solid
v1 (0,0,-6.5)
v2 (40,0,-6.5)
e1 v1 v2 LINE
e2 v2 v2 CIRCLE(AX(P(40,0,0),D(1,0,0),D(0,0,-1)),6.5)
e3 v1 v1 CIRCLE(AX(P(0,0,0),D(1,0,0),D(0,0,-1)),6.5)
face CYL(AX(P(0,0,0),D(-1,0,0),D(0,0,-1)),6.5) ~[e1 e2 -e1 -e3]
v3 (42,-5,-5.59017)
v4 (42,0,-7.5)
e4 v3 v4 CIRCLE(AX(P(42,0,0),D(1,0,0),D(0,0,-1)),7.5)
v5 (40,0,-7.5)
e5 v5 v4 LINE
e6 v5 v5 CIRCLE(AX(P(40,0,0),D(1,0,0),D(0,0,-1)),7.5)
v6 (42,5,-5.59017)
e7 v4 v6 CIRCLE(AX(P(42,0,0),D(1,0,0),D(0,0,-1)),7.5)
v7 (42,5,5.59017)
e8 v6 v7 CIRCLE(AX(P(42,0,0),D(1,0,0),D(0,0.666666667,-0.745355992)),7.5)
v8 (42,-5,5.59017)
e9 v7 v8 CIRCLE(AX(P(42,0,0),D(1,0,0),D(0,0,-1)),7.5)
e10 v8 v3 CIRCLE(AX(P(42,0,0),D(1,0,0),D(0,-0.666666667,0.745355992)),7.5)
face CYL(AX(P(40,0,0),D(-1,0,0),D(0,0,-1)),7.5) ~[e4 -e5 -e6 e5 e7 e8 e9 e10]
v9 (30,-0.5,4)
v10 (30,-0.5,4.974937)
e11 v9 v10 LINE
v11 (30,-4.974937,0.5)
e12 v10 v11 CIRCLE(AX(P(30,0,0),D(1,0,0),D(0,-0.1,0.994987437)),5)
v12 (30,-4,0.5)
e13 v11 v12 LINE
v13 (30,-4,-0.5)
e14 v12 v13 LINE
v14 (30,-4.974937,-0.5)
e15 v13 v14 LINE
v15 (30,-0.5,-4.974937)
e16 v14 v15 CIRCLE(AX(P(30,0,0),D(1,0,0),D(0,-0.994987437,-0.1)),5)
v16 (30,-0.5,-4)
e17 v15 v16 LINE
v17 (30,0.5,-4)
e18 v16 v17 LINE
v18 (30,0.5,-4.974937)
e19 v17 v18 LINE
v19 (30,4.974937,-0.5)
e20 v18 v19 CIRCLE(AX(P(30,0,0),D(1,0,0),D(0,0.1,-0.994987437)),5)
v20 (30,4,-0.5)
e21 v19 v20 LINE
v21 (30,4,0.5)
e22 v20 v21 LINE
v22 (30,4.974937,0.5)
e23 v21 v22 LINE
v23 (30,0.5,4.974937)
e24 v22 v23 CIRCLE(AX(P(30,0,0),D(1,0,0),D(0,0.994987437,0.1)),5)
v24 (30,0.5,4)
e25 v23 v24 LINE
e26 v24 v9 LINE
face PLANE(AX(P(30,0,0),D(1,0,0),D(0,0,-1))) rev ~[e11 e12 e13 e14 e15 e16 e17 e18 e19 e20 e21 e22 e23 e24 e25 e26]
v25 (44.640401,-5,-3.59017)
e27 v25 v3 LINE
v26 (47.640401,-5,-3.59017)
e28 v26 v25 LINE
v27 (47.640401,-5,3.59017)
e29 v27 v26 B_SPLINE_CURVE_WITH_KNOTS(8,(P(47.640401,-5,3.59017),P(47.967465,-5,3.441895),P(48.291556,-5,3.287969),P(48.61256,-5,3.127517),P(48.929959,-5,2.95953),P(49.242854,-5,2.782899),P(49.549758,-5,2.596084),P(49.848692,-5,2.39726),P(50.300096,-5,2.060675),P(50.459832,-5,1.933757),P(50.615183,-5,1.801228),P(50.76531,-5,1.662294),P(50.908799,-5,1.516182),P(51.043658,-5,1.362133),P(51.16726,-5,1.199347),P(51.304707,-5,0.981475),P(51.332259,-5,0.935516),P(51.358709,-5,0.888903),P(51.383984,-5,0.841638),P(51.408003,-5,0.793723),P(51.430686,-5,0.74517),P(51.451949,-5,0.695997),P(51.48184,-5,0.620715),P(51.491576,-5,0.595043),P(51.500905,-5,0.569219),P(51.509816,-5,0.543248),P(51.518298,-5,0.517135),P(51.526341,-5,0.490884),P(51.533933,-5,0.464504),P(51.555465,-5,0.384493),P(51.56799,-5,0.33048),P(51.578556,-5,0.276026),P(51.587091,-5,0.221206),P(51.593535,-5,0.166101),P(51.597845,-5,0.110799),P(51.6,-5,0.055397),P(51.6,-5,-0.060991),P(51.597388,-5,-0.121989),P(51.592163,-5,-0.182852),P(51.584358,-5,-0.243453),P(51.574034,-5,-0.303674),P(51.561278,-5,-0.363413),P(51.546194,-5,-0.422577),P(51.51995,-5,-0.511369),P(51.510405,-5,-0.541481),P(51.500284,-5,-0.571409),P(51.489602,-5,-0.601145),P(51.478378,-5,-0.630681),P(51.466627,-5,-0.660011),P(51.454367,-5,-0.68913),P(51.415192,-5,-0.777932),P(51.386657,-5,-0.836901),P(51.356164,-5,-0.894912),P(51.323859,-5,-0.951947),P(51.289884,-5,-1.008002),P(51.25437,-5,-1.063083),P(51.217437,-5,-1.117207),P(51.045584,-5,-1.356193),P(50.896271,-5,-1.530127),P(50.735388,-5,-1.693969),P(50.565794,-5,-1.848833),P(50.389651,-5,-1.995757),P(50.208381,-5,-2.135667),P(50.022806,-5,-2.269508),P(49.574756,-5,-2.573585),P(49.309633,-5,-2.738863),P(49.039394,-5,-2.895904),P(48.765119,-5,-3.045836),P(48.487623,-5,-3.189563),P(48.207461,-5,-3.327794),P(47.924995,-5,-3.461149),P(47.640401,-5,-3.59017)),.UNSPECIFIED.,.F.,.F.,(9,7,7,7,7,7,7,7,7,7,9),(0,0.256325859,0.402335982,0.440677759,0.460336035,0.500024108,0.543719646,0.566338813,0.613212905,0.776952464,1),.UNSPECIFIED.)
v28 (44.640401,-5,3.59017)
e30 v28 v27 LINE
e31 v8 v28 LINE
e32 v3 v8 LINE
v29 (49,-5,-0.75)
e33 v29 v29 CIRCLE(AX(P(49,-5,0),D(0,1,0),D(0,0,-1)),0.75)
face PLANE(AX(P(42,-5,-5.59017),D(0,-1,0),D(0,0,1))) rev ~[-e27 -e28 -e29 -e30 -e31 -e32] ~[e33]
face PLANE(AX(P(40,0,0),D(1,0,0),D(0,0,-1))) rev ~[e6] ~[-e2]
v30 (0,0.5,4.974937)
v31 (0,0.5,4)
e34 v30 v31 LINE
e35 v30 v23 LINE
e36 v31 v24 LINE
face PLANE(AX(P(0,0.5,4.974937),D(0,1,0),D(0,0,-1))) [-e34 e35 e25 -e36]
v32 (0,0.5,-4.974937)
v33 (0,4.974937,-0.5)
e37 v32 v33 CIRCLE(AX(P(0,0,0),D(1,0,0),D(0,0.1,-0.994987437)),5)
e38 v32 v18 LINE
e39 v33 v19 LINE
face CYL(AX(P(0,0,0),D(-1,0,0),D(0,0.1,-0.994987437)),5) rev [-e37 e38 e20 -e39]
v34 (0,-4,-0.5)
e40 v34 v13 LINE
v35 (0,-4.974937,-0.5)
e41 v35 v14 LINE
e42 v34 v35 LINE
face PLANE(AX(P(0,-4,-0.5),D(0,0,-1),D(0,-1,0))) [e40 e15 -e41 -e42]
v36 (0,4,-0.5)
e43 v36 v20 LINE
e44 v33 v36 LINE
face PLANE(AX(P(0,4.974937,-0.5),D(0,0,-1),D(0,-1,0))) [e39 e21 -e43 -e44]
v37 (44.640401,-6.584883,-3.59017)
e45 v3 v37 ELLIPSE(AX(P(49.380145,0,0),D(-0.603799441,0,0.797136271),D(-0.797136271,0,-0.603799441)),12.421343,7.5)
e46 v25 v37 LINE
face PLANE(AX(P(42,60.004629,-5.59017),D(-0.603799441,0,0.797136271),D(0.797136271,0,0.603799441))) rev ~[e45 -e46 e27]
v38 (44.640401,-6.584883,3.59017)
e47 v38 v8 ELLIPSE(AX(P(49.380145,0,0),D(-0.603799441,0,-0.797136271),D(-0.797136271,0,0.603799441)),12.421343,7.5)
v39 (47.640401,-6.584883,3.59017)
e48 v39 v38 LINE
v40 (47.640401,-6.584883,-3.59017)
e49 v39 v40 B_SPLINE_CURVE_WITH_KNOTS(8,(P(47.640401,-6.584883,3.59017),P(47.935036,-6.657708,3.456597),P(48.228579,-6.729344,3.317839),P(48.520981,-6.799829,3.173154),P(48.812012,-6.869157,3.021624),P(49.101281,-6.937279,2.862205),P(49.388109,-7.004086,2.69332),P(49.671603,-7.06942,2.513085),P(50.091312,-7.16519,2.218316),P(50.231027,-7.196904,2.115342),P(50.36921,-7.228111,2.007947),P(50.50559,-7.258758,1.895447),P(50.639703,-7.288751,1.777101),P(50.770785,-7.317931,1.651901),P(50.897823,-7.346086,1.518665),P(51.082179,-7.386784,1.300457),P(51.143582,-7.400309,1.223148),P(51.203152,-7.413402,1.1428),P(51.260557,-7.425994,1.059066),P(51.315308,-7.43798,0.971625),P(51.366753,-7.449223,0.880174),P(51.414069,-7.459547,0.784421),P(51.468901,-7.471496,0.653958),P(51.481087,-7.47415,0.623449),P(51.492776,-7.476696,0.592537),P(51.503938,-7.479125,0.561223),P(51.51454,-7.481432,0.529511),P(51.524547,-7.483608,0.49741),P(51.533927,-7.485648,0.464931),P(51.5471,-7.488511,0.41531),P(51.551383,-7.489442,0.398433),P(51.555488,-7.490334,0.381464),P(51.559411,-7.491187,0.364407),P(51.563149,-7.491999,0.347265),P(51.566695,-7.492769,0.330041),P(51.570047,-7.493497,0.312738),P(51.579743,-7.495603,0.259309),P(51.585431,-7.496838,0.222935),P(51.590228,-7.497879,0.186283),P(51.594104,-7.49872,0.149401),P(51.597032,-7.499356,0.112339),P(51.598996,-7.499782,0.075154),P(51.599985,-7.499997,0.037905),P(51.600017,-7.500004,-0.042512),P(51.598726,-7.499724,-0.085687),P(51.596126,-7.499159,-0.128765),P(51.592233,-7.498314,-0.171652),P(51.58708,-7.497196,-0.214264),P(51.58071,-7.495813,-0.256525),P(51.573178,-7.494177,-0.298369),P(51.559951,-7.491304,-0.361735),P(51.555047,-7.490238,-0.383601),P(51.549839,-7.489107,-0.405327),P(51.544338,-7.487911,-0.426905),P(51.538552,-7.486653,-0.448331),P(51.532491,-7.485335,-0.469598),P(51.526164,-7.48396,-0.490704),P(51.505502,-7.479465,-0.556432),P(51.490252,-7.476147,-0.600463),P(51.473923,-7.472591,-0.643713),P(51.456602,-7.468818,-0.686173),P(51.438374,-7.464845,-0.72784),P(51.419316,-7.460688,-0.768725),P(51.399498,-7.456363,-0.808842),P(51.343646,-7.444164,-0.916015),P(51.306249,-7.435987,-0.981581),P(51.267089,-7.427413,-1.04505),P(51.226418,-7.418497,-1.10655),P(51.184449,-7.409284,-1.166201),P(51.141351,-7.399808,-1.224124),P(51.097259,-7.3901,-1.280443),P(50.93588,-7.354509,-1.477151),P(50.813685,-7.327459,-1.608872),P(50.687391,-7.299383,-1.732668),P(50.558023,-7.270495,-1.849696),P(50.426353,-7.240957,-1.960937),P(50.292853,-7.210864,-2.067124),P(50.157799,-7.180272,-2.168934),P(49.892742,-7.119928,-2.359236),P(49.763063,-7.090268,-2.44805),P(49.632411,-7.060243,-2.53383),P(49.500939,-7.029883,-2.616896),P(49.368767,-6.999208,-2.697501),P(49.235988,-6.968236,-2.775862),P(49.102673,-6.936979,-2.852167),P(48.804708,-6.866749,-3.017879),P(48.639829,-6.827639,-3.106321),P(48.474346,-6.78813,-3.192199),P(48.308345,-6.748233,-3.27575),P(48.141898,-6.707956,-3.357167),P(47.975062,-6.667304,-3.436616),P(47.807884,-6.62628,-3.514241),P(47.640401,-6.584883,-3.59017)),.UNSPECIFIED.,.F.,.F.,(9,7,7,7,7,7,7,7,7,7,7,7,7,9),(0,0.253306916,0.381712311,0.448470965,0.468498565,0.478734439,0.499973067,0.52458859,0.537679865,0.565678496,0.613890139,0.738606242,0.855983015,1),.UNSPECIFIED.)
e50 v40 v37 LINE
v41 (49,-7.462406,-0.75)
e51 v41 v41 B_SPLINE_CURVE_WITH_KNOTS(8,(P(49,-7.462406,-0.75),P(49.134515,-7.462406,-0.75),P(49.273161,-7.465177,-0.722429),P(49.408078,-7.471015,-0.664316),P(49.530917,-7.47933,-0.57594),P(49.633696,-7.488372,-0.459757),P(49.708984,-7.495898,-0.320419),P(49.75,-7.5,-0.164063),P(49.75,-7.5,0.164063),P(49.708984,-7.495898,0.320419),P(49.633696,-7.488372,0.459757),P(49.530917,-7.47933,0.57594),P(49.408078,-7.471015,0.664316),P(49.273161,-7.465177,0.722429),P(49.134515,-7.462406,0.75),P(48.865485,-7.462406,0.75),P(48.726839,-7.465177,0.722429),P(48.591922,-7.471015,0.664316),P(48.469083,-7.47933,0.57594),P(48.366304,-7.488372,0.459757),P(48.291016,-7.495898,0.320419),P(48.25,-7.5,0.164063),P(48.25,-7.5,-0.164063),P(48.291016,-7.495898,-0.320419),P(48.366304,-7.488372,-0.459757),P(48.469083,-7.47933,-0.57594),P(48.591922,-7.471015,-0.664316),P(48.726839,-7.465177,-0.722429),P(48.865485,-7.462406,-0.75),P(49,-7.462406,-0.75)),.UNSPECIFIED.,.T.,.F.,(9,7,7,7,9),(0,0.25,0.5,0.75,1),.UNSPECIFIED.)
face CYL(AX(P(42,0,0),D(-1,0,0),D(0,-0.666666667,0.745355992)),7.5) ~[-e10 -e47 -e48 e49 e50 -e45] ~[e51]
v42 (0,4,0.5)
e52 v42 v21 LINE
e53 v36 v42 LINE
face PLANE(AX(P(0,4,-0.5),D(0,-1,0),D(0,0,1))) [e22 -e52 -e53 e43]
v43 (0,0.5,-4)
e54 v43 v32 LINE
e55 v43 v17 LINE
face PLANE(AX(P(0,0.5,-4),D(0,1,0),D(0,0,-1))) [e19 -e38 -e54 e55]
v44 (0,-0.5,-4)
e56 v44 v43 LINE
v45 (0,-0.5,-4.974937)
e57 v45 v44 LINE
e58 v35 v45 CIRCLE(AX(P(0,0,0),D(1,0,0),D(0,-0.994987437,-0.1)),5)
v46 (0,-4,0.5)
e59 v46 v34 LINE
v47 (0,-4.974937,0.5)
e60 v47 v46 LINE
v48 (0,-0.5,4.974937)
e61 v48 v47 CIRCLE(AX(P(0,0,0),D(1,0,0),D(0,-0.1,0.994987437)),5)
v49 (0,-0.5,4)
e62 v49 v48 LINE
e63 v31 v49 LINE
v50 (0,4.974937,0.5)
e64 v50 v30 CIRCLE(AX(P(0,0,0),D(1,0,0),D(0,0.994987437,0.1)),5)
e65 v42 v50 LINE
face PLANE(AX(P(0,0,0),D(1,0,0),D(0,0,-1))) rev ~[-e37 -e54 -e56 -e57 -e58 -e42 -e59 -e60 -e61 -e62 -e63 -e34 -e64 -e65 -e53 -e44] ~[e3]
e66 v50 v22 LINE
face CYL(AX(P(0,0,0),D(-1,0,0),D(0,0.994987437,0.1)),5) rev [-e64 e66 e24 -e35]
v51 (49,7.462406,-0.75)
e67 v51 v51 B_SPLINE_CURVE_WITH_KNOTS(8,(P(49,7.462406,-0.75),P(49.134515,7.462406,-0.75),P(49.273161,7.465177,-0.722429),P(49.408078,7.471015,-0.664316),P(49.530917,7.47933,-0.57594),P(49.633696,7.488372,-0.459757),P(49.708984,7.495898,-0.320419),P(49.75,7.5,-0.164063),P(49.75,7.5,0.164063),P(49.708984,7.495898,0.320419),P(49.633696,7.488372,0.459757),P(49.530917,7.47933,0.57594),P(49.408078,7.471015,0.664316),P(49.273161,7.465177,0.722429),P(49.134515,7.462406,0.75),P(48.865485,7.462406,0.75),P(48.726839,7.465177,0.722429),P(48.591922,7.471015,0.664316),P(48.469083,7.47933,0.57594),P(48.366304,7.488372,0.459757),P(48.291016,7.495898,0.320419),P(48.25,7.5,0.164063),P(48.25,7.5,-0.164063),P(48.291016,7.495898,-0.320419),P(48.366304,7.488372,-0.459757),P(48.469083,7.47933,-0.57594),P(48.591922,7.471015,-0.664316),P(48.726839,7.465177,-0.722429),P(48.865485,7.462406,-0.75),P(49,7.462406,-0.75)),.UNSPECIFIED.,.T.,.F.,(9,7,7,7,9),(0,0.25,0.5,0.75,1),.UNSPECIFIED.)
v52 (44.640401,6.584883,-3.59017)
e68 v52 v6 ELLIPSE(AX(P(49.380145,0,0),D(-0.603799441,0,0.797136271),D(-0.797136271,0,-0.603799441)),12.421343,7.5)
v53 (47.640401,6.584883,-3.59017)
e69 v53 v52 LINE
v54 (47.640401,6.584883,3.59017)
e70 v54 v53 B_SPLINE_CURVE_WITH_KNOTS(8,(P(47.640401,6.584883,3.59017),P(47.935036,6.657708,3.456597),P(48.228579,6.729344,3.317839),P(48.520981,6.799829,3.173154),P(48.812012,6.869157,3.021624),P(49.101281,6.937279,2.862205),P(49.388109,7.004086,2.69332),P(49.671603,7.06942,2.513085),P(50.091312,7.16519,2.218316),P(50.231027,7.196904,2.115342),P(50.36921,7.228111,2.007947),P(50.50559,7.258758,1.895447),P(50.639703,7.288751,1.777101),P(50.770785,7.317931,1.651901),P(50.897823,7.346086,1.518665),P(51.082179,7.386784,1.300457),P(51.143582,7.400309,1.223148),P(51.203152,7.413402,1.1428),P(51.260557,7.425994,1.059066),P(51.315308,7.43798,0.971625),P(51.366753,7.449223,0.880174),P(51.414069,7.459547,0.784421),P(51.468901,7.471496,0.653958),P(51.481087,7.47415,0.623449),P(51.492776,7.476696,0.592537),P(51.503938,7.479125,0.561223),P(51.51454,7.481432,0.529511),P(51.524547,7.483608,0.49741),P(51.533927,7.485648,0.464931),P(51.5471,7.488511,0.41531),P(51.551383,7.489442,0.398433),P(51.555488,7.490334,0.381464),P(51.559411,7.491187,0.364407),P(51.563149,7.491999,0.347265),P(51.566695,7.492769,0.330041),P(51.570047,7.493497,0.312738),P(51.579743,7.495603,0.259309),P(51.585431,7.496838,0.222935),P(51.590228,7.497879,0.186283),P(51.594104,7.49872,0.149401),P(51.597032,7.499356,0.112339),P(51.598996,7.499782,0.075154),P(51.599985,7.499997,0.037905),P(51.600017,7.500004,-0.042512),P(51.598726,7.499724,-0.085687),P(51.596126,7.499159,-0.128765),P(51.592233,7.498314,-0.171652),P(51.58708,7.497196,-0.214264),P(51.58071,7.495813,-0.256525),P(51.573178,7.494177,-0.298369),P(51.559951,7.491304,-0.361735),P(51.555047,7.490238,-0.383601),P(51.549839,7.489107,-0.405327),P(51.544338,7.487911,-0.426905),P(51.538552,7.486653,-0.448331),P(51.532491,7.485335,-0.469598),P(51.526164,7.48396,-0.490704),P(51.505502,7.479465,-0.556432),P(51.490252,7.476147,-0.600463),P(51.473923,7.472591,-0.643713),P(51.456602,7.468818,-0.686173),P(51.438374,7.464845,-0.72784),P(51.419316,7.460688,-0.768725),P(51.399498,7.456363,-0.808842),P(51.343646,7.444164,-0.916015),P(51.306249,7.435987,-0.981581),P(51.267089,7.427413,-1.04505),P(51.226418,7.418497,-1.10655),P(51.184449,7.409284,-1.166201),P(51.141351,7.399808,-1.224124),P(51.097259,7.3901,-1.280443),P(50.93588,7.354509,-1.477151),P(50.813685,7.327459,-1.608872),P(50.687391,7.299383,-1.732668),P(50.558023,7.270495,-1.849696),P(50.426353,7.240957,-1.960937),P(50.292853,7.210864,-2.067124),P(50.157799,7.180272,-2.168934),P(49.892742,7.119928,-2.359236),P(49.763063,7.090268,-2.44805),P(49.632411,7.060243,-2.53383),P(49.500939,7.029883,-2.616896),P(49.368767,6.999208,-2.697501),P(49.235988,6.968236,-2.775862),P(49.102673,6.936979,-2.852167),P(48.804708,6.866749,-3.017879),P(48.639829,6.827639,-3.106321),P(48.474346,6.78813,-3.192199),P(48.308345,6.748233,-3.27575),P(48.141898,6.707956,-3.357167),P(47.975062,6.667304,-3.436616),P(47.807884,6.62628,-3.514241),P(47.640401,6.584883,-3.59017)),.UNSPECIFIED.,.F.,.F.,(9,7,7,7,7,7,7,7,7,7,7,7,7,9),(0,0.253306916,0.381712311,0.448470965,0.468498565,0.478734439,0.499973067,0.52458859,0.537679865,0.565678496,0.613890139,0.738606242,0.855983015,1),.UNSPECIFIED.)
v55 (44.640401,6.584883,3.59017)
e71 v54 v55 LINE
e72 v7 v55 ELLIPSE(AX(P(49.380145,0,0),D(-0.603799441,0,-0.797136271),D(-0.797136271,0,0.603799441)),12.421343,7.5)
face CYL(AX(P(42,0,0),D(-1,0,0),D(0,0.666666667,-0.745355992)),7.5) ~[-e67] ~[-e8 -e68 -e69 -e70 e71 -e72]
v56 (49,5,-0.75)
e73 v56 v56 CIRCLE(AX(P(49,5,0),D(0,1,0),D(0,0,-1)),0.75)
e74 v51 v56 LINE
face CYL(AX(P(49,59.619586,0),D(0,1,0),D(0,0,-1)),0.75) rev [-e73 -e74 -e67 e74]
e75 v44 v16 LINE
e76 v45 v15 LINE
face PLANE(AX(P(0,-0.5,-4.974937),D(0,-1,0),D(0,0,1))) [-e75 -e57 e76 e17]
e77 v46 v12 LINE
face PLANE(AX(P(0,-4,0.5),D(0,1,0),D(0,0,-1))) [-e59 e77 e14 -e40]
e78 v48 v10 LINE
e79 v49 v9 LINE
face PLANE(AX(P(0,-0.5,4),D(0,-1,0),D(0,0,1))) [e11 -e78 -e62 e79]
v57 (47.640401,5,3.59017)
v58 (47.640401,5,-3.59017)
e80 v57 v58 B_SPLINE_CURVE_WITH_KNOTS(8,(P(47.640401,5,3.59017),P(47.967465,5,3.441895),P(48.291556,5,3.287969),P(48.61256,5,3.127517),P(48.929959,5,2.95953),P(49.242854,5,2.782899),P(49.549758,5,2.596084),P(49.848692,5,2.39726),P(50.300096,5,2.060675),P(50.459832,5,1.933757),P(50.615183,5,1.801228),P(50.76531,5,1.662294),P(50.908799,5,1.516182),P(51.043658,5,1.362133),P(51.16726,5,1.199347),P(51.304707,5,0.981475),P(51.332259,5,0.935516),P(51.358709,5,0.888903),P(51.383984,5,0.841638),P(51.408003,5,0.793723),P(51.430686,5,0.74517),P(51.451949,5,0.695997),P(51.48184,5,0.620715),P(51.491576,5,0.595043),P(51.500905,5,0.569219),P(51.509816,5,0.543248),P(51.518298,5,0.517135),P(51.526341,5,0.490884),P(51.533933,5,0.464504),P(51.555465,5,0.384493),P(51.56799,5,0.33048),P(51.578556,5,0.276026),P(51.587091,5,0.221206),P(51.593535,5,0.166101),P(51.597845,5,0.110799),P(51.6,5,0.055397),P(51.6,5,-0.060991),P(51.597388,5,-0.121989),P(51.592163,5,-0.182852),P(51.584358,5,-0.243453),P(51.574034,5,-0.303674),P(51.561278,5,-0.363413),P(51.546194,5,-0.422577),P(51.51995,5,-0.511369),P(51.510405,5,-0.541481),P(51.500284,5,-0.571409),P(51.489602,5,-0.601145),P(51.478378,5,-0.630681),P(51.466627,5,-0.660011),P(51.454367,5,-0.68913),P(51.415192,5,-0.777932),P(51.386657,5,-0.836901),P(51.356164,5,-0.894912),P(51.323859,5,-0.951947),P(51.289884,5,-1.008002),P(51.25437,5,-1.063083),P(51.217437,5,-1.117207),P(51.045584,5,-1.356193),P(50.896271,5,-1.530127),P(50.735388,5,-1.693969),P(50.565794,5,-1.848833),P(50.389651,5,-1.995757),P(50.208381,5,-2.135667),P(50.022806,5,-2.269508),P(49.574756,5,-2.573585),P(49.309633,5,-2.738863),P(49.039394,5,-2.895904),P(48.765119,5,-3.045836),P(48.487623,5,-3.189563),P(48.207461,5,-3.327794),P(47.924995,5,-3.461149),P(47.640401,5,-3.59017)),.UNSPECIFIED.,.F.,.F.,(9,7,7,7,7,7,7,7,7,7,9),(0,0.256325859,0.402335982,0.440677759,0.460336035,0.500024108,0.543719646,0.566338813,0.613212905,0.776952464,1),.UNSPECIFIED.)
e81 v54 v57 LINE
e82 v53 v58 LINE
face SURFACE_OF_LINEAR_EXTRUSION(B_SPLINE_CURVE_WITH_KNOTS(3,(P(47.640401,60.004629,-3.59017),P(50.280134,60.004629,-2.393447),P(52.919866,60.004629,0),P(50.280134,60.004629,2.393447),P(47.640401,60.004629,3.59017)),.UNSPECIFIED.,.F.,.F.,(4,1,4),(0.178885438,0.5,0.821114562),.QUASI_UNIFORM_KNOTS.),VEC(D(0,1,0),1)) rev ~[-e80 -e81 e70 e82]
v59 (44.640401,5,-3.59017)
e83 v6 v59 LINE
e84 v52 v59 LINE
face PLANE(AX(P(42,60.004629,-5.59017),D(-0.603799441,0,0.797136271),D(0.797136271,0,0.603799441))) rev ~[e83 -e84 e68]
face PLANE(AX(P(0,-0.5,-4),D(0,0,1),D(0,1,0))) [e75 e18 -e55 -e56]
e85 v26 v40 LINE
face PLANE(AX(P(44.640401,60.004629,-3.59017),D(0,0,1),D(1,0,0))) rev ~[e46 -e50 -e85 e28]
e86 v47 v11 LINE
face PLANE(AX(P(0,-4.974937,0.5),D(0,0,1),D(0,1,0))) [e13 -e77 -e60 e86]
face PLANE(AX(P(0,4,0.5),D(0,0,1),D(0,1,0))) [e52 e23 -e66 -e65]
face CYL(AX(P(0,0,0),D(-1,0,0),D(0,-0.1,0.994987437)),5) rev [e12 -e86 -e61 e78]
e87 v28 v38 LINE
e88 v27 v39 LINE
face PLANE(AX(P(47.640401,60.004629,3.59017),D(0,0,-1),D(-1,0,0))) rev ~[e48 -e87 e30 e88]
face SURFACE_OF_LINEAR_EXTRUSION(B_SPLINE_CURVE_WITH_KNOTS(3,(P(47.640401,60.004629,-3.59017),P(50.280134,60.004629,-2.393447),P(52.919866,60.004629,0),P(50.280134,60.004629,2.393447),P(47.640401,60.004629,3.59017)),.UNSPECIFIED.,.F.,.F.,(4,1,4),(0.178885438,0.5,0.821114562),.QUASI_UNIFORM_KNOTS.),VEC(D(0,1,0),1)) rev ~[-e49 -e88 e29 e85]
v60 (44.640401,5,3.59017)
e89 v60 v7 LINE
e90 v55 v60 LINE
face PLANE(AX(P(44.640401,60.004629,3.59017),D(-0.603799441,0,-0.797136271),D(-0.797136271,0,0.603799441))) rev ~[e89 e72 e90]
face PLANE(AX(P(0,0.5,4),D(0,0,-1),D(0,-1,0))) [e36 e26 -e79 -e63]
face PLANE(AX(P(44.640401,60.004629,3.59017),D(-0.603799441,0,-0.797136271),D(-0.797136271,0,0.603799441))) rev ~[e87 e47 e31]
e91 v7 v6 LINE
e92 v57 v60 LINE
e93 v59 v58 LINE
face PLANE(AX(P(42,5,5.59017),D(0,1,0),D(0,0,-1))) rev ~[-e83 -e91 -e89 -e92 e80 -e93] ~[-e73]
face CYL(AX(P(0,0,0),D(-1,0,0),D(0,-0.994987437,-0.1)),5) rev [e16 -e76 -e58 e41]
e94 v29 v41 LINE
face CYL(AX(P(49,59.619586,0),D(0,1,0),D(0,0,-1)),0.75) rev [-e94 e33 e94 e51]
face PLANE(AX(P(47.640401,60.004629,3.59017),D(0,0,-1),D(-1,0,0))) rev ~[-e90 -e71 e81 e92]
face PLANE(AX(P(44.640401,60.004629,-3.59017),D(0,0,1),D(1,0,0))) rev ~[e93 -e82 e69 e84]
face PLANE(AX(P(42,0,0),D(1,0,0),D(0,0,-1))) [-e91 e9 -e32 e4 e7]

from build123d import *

# Parameters (mm, degrees)
SKETCH1_R               = 6.5
BOSS_EXTRUDE1_DEPTH     = 40
SKETCH2_R               = 7.5
BOSS_EXTRUDE2_DEPTH     = 2
BOSS_EXTRUDE3_DEPTH     = 10
CUT_EXTRUDE1_DEPTH      = 55.004629431
CUT_EXTRUDE1_DEPTH_BACK = 55.004629431
CUT_EXTRUDE2_DEPTH      = 54.619586107
CUT_EXTRUDE2_DEPTH_BACK = 54.619586107
SKETCH5_R               = 0.75
CUT_EXTRUDE3_DEPTH      = 30


with BuildPart() as part:
    # Sketch1 → Boss-Extrude1 (new body)
    with BuildSketch(Plane(origin=(0, 0, 0), x_dir=(0, 0, -1), z_dir=(1, 0, 0))):
        Circle(SKETCH1_R)
    extrude(amount=BOSS_EXTRUDE1_DEPTH)

    # Sketch2 → Boss-Extrude2 (add)
    with BuildSketch(Plane(origin=(40, 0, 0), x_dir=(0, 0, -1), z_dir=(1, 0, 0))):
        Circle(SKETCH2_R)
    extrude(amount=BOSS_EXTRUDE2_DEPTH)

    # Sketch3 → Boss-Extrude3 (add)
    with BuildSketch(Plane(origin=(42, 0, 0), x_dir=(0, 0, -1), z_dir=(1, 0, 0))):
        with BuildLine():
            ThreePointArc((5.590169944, 5), (0, 7.5), (-5.590169944, 5))
            Line((-5.590169944, 5), (-4.898979486, 5))
            Line((-4.898979486, 5), (4.898979486, 5))
            Line((4.898979486, 5), (5.590169944, 5))
        make_face()
        with BuildLine():
            Line((-4.898979486, -5), (-5.590169944, -5))
            ThreePointArc((-5.590169944, -5), (0, -7.5), (5.590169944, -5))
            Line((5.590169944, -5), (4.898979486, -5))
            Line((4.898979486, -5), (-4.898979486, -5))
        make_face()
    extrude(amount=BOSS_EXTRUDE3_DEPTH)

    # Sketch4 → Cut-Extrude1 (cut, two sides: drawn at the far end of the back side and taken through both)
    with BuildSketch(Plane.XZ.offset(-5).offset(-CUT_EXTRUDE1_DEPTH_BACK)):
        with BuildLine():
            Line((42, 5.590169944), (52, 5.590169944))
            Line((52, 5.590169944), (52, -5.590169944))
            Line((52, -5.590169944), (42, -5.590169944))
            Line((42, -5.590169944), (44.640400827, -3.590169944))
            Line((44.640400827, -3.590169944), (47.640400827, -3.590169944))
            add(Edge.make_bspline(
                [(47.640400827, -3.590169944), (50.280133609, -2.393446629), (52.919866391, 0), (50.280133609, 2.393446629), (47.640400827, 3.590169944)],
                knots=[0.178885438, 0.178885438, 0.178885438, 0.178885438, 0.5, 0.821114562, 0.821114562, 0.821114562, 0.821114562], degree=3))
            Line((47.640400827, 3.590169944), (44.640400827, 3.590169944))
            Line((44.640400827, 3.590169944), (42, 5.590169944))
        make_face()
    extrude(amount=CUT_EXTRUDE1_DEPTH + CUT_EXTRUDE1_DEPTH_BACK, mode=Mode.SUBTRACT)

    # Sketch5 → Cut-Extrude2 (cut, two sides: drawn at the far end of the back side and taken through both)
    with BuildSketch(Plane.XZ.offset(-5).offset(-CUT_EXTRUDE2_DEPTH_BACK)):
        with Locations(Location((49, 0, 0), (0, 0, 270))):
            Circle(SKETCH5_R)
    extrude(amount=CUT_EXTRUDE2_DEPTH + CUT_EXTRUDE2_DEPTH_BACK, mode=Mode.SUBTRACT)

    # Sketch6 → Cut-Extrude3 (cut)
    with BuildSketch(Plane.ZY):
        with BuildLine():
            Line((4, -0.5), (4.974937186, -0.5))
            ThreePointArc((4.974937186, -0.5), (3.535533906, -3.535533906), (0.5, -4.974937186))
            Line((0.5, -4.974937186), (0.5, -4))
            Line((0.5, -4), (-0.5, -4))
            Line((-0.5, -4), (-0.5, -4.974937186))
            ThreePointArc((-0.5, -4.974937186), (-3.535533906, -3.535533906), (-4.974937186, -0.5))
            Line((-4.974937186, -0.5), (-4, -0.5))
            Line((-4, -0.5), (-4, 0.5))
            Line((-4, 0.5), (-4.974937186, 0.5))
            ThreePointArc((-4.974937186, 0.5), (-3.535533906, 3.535533906), (-0.5, 4.974937186))
            Line((-0.5, 4.974937186), (-0.5, 4))
            Line((-0.5, 4), (0.5, 4))
            Line((0.5, 4), (0.5, 4.974937186))
            ThreePointArc((0.5, 4.974937186), (3.535533906, 3.535533906), (4.974937186, 0.5))
            Line((4.974937186, 0.5), (4, 0.5))
            Line((4, 0.5), (4, -0.5))
        make_face()
    extrude(amount=-CUT_EXTRUDE3_DEPTH, mode=Mode.SUBTRACT)


solid = part.part
